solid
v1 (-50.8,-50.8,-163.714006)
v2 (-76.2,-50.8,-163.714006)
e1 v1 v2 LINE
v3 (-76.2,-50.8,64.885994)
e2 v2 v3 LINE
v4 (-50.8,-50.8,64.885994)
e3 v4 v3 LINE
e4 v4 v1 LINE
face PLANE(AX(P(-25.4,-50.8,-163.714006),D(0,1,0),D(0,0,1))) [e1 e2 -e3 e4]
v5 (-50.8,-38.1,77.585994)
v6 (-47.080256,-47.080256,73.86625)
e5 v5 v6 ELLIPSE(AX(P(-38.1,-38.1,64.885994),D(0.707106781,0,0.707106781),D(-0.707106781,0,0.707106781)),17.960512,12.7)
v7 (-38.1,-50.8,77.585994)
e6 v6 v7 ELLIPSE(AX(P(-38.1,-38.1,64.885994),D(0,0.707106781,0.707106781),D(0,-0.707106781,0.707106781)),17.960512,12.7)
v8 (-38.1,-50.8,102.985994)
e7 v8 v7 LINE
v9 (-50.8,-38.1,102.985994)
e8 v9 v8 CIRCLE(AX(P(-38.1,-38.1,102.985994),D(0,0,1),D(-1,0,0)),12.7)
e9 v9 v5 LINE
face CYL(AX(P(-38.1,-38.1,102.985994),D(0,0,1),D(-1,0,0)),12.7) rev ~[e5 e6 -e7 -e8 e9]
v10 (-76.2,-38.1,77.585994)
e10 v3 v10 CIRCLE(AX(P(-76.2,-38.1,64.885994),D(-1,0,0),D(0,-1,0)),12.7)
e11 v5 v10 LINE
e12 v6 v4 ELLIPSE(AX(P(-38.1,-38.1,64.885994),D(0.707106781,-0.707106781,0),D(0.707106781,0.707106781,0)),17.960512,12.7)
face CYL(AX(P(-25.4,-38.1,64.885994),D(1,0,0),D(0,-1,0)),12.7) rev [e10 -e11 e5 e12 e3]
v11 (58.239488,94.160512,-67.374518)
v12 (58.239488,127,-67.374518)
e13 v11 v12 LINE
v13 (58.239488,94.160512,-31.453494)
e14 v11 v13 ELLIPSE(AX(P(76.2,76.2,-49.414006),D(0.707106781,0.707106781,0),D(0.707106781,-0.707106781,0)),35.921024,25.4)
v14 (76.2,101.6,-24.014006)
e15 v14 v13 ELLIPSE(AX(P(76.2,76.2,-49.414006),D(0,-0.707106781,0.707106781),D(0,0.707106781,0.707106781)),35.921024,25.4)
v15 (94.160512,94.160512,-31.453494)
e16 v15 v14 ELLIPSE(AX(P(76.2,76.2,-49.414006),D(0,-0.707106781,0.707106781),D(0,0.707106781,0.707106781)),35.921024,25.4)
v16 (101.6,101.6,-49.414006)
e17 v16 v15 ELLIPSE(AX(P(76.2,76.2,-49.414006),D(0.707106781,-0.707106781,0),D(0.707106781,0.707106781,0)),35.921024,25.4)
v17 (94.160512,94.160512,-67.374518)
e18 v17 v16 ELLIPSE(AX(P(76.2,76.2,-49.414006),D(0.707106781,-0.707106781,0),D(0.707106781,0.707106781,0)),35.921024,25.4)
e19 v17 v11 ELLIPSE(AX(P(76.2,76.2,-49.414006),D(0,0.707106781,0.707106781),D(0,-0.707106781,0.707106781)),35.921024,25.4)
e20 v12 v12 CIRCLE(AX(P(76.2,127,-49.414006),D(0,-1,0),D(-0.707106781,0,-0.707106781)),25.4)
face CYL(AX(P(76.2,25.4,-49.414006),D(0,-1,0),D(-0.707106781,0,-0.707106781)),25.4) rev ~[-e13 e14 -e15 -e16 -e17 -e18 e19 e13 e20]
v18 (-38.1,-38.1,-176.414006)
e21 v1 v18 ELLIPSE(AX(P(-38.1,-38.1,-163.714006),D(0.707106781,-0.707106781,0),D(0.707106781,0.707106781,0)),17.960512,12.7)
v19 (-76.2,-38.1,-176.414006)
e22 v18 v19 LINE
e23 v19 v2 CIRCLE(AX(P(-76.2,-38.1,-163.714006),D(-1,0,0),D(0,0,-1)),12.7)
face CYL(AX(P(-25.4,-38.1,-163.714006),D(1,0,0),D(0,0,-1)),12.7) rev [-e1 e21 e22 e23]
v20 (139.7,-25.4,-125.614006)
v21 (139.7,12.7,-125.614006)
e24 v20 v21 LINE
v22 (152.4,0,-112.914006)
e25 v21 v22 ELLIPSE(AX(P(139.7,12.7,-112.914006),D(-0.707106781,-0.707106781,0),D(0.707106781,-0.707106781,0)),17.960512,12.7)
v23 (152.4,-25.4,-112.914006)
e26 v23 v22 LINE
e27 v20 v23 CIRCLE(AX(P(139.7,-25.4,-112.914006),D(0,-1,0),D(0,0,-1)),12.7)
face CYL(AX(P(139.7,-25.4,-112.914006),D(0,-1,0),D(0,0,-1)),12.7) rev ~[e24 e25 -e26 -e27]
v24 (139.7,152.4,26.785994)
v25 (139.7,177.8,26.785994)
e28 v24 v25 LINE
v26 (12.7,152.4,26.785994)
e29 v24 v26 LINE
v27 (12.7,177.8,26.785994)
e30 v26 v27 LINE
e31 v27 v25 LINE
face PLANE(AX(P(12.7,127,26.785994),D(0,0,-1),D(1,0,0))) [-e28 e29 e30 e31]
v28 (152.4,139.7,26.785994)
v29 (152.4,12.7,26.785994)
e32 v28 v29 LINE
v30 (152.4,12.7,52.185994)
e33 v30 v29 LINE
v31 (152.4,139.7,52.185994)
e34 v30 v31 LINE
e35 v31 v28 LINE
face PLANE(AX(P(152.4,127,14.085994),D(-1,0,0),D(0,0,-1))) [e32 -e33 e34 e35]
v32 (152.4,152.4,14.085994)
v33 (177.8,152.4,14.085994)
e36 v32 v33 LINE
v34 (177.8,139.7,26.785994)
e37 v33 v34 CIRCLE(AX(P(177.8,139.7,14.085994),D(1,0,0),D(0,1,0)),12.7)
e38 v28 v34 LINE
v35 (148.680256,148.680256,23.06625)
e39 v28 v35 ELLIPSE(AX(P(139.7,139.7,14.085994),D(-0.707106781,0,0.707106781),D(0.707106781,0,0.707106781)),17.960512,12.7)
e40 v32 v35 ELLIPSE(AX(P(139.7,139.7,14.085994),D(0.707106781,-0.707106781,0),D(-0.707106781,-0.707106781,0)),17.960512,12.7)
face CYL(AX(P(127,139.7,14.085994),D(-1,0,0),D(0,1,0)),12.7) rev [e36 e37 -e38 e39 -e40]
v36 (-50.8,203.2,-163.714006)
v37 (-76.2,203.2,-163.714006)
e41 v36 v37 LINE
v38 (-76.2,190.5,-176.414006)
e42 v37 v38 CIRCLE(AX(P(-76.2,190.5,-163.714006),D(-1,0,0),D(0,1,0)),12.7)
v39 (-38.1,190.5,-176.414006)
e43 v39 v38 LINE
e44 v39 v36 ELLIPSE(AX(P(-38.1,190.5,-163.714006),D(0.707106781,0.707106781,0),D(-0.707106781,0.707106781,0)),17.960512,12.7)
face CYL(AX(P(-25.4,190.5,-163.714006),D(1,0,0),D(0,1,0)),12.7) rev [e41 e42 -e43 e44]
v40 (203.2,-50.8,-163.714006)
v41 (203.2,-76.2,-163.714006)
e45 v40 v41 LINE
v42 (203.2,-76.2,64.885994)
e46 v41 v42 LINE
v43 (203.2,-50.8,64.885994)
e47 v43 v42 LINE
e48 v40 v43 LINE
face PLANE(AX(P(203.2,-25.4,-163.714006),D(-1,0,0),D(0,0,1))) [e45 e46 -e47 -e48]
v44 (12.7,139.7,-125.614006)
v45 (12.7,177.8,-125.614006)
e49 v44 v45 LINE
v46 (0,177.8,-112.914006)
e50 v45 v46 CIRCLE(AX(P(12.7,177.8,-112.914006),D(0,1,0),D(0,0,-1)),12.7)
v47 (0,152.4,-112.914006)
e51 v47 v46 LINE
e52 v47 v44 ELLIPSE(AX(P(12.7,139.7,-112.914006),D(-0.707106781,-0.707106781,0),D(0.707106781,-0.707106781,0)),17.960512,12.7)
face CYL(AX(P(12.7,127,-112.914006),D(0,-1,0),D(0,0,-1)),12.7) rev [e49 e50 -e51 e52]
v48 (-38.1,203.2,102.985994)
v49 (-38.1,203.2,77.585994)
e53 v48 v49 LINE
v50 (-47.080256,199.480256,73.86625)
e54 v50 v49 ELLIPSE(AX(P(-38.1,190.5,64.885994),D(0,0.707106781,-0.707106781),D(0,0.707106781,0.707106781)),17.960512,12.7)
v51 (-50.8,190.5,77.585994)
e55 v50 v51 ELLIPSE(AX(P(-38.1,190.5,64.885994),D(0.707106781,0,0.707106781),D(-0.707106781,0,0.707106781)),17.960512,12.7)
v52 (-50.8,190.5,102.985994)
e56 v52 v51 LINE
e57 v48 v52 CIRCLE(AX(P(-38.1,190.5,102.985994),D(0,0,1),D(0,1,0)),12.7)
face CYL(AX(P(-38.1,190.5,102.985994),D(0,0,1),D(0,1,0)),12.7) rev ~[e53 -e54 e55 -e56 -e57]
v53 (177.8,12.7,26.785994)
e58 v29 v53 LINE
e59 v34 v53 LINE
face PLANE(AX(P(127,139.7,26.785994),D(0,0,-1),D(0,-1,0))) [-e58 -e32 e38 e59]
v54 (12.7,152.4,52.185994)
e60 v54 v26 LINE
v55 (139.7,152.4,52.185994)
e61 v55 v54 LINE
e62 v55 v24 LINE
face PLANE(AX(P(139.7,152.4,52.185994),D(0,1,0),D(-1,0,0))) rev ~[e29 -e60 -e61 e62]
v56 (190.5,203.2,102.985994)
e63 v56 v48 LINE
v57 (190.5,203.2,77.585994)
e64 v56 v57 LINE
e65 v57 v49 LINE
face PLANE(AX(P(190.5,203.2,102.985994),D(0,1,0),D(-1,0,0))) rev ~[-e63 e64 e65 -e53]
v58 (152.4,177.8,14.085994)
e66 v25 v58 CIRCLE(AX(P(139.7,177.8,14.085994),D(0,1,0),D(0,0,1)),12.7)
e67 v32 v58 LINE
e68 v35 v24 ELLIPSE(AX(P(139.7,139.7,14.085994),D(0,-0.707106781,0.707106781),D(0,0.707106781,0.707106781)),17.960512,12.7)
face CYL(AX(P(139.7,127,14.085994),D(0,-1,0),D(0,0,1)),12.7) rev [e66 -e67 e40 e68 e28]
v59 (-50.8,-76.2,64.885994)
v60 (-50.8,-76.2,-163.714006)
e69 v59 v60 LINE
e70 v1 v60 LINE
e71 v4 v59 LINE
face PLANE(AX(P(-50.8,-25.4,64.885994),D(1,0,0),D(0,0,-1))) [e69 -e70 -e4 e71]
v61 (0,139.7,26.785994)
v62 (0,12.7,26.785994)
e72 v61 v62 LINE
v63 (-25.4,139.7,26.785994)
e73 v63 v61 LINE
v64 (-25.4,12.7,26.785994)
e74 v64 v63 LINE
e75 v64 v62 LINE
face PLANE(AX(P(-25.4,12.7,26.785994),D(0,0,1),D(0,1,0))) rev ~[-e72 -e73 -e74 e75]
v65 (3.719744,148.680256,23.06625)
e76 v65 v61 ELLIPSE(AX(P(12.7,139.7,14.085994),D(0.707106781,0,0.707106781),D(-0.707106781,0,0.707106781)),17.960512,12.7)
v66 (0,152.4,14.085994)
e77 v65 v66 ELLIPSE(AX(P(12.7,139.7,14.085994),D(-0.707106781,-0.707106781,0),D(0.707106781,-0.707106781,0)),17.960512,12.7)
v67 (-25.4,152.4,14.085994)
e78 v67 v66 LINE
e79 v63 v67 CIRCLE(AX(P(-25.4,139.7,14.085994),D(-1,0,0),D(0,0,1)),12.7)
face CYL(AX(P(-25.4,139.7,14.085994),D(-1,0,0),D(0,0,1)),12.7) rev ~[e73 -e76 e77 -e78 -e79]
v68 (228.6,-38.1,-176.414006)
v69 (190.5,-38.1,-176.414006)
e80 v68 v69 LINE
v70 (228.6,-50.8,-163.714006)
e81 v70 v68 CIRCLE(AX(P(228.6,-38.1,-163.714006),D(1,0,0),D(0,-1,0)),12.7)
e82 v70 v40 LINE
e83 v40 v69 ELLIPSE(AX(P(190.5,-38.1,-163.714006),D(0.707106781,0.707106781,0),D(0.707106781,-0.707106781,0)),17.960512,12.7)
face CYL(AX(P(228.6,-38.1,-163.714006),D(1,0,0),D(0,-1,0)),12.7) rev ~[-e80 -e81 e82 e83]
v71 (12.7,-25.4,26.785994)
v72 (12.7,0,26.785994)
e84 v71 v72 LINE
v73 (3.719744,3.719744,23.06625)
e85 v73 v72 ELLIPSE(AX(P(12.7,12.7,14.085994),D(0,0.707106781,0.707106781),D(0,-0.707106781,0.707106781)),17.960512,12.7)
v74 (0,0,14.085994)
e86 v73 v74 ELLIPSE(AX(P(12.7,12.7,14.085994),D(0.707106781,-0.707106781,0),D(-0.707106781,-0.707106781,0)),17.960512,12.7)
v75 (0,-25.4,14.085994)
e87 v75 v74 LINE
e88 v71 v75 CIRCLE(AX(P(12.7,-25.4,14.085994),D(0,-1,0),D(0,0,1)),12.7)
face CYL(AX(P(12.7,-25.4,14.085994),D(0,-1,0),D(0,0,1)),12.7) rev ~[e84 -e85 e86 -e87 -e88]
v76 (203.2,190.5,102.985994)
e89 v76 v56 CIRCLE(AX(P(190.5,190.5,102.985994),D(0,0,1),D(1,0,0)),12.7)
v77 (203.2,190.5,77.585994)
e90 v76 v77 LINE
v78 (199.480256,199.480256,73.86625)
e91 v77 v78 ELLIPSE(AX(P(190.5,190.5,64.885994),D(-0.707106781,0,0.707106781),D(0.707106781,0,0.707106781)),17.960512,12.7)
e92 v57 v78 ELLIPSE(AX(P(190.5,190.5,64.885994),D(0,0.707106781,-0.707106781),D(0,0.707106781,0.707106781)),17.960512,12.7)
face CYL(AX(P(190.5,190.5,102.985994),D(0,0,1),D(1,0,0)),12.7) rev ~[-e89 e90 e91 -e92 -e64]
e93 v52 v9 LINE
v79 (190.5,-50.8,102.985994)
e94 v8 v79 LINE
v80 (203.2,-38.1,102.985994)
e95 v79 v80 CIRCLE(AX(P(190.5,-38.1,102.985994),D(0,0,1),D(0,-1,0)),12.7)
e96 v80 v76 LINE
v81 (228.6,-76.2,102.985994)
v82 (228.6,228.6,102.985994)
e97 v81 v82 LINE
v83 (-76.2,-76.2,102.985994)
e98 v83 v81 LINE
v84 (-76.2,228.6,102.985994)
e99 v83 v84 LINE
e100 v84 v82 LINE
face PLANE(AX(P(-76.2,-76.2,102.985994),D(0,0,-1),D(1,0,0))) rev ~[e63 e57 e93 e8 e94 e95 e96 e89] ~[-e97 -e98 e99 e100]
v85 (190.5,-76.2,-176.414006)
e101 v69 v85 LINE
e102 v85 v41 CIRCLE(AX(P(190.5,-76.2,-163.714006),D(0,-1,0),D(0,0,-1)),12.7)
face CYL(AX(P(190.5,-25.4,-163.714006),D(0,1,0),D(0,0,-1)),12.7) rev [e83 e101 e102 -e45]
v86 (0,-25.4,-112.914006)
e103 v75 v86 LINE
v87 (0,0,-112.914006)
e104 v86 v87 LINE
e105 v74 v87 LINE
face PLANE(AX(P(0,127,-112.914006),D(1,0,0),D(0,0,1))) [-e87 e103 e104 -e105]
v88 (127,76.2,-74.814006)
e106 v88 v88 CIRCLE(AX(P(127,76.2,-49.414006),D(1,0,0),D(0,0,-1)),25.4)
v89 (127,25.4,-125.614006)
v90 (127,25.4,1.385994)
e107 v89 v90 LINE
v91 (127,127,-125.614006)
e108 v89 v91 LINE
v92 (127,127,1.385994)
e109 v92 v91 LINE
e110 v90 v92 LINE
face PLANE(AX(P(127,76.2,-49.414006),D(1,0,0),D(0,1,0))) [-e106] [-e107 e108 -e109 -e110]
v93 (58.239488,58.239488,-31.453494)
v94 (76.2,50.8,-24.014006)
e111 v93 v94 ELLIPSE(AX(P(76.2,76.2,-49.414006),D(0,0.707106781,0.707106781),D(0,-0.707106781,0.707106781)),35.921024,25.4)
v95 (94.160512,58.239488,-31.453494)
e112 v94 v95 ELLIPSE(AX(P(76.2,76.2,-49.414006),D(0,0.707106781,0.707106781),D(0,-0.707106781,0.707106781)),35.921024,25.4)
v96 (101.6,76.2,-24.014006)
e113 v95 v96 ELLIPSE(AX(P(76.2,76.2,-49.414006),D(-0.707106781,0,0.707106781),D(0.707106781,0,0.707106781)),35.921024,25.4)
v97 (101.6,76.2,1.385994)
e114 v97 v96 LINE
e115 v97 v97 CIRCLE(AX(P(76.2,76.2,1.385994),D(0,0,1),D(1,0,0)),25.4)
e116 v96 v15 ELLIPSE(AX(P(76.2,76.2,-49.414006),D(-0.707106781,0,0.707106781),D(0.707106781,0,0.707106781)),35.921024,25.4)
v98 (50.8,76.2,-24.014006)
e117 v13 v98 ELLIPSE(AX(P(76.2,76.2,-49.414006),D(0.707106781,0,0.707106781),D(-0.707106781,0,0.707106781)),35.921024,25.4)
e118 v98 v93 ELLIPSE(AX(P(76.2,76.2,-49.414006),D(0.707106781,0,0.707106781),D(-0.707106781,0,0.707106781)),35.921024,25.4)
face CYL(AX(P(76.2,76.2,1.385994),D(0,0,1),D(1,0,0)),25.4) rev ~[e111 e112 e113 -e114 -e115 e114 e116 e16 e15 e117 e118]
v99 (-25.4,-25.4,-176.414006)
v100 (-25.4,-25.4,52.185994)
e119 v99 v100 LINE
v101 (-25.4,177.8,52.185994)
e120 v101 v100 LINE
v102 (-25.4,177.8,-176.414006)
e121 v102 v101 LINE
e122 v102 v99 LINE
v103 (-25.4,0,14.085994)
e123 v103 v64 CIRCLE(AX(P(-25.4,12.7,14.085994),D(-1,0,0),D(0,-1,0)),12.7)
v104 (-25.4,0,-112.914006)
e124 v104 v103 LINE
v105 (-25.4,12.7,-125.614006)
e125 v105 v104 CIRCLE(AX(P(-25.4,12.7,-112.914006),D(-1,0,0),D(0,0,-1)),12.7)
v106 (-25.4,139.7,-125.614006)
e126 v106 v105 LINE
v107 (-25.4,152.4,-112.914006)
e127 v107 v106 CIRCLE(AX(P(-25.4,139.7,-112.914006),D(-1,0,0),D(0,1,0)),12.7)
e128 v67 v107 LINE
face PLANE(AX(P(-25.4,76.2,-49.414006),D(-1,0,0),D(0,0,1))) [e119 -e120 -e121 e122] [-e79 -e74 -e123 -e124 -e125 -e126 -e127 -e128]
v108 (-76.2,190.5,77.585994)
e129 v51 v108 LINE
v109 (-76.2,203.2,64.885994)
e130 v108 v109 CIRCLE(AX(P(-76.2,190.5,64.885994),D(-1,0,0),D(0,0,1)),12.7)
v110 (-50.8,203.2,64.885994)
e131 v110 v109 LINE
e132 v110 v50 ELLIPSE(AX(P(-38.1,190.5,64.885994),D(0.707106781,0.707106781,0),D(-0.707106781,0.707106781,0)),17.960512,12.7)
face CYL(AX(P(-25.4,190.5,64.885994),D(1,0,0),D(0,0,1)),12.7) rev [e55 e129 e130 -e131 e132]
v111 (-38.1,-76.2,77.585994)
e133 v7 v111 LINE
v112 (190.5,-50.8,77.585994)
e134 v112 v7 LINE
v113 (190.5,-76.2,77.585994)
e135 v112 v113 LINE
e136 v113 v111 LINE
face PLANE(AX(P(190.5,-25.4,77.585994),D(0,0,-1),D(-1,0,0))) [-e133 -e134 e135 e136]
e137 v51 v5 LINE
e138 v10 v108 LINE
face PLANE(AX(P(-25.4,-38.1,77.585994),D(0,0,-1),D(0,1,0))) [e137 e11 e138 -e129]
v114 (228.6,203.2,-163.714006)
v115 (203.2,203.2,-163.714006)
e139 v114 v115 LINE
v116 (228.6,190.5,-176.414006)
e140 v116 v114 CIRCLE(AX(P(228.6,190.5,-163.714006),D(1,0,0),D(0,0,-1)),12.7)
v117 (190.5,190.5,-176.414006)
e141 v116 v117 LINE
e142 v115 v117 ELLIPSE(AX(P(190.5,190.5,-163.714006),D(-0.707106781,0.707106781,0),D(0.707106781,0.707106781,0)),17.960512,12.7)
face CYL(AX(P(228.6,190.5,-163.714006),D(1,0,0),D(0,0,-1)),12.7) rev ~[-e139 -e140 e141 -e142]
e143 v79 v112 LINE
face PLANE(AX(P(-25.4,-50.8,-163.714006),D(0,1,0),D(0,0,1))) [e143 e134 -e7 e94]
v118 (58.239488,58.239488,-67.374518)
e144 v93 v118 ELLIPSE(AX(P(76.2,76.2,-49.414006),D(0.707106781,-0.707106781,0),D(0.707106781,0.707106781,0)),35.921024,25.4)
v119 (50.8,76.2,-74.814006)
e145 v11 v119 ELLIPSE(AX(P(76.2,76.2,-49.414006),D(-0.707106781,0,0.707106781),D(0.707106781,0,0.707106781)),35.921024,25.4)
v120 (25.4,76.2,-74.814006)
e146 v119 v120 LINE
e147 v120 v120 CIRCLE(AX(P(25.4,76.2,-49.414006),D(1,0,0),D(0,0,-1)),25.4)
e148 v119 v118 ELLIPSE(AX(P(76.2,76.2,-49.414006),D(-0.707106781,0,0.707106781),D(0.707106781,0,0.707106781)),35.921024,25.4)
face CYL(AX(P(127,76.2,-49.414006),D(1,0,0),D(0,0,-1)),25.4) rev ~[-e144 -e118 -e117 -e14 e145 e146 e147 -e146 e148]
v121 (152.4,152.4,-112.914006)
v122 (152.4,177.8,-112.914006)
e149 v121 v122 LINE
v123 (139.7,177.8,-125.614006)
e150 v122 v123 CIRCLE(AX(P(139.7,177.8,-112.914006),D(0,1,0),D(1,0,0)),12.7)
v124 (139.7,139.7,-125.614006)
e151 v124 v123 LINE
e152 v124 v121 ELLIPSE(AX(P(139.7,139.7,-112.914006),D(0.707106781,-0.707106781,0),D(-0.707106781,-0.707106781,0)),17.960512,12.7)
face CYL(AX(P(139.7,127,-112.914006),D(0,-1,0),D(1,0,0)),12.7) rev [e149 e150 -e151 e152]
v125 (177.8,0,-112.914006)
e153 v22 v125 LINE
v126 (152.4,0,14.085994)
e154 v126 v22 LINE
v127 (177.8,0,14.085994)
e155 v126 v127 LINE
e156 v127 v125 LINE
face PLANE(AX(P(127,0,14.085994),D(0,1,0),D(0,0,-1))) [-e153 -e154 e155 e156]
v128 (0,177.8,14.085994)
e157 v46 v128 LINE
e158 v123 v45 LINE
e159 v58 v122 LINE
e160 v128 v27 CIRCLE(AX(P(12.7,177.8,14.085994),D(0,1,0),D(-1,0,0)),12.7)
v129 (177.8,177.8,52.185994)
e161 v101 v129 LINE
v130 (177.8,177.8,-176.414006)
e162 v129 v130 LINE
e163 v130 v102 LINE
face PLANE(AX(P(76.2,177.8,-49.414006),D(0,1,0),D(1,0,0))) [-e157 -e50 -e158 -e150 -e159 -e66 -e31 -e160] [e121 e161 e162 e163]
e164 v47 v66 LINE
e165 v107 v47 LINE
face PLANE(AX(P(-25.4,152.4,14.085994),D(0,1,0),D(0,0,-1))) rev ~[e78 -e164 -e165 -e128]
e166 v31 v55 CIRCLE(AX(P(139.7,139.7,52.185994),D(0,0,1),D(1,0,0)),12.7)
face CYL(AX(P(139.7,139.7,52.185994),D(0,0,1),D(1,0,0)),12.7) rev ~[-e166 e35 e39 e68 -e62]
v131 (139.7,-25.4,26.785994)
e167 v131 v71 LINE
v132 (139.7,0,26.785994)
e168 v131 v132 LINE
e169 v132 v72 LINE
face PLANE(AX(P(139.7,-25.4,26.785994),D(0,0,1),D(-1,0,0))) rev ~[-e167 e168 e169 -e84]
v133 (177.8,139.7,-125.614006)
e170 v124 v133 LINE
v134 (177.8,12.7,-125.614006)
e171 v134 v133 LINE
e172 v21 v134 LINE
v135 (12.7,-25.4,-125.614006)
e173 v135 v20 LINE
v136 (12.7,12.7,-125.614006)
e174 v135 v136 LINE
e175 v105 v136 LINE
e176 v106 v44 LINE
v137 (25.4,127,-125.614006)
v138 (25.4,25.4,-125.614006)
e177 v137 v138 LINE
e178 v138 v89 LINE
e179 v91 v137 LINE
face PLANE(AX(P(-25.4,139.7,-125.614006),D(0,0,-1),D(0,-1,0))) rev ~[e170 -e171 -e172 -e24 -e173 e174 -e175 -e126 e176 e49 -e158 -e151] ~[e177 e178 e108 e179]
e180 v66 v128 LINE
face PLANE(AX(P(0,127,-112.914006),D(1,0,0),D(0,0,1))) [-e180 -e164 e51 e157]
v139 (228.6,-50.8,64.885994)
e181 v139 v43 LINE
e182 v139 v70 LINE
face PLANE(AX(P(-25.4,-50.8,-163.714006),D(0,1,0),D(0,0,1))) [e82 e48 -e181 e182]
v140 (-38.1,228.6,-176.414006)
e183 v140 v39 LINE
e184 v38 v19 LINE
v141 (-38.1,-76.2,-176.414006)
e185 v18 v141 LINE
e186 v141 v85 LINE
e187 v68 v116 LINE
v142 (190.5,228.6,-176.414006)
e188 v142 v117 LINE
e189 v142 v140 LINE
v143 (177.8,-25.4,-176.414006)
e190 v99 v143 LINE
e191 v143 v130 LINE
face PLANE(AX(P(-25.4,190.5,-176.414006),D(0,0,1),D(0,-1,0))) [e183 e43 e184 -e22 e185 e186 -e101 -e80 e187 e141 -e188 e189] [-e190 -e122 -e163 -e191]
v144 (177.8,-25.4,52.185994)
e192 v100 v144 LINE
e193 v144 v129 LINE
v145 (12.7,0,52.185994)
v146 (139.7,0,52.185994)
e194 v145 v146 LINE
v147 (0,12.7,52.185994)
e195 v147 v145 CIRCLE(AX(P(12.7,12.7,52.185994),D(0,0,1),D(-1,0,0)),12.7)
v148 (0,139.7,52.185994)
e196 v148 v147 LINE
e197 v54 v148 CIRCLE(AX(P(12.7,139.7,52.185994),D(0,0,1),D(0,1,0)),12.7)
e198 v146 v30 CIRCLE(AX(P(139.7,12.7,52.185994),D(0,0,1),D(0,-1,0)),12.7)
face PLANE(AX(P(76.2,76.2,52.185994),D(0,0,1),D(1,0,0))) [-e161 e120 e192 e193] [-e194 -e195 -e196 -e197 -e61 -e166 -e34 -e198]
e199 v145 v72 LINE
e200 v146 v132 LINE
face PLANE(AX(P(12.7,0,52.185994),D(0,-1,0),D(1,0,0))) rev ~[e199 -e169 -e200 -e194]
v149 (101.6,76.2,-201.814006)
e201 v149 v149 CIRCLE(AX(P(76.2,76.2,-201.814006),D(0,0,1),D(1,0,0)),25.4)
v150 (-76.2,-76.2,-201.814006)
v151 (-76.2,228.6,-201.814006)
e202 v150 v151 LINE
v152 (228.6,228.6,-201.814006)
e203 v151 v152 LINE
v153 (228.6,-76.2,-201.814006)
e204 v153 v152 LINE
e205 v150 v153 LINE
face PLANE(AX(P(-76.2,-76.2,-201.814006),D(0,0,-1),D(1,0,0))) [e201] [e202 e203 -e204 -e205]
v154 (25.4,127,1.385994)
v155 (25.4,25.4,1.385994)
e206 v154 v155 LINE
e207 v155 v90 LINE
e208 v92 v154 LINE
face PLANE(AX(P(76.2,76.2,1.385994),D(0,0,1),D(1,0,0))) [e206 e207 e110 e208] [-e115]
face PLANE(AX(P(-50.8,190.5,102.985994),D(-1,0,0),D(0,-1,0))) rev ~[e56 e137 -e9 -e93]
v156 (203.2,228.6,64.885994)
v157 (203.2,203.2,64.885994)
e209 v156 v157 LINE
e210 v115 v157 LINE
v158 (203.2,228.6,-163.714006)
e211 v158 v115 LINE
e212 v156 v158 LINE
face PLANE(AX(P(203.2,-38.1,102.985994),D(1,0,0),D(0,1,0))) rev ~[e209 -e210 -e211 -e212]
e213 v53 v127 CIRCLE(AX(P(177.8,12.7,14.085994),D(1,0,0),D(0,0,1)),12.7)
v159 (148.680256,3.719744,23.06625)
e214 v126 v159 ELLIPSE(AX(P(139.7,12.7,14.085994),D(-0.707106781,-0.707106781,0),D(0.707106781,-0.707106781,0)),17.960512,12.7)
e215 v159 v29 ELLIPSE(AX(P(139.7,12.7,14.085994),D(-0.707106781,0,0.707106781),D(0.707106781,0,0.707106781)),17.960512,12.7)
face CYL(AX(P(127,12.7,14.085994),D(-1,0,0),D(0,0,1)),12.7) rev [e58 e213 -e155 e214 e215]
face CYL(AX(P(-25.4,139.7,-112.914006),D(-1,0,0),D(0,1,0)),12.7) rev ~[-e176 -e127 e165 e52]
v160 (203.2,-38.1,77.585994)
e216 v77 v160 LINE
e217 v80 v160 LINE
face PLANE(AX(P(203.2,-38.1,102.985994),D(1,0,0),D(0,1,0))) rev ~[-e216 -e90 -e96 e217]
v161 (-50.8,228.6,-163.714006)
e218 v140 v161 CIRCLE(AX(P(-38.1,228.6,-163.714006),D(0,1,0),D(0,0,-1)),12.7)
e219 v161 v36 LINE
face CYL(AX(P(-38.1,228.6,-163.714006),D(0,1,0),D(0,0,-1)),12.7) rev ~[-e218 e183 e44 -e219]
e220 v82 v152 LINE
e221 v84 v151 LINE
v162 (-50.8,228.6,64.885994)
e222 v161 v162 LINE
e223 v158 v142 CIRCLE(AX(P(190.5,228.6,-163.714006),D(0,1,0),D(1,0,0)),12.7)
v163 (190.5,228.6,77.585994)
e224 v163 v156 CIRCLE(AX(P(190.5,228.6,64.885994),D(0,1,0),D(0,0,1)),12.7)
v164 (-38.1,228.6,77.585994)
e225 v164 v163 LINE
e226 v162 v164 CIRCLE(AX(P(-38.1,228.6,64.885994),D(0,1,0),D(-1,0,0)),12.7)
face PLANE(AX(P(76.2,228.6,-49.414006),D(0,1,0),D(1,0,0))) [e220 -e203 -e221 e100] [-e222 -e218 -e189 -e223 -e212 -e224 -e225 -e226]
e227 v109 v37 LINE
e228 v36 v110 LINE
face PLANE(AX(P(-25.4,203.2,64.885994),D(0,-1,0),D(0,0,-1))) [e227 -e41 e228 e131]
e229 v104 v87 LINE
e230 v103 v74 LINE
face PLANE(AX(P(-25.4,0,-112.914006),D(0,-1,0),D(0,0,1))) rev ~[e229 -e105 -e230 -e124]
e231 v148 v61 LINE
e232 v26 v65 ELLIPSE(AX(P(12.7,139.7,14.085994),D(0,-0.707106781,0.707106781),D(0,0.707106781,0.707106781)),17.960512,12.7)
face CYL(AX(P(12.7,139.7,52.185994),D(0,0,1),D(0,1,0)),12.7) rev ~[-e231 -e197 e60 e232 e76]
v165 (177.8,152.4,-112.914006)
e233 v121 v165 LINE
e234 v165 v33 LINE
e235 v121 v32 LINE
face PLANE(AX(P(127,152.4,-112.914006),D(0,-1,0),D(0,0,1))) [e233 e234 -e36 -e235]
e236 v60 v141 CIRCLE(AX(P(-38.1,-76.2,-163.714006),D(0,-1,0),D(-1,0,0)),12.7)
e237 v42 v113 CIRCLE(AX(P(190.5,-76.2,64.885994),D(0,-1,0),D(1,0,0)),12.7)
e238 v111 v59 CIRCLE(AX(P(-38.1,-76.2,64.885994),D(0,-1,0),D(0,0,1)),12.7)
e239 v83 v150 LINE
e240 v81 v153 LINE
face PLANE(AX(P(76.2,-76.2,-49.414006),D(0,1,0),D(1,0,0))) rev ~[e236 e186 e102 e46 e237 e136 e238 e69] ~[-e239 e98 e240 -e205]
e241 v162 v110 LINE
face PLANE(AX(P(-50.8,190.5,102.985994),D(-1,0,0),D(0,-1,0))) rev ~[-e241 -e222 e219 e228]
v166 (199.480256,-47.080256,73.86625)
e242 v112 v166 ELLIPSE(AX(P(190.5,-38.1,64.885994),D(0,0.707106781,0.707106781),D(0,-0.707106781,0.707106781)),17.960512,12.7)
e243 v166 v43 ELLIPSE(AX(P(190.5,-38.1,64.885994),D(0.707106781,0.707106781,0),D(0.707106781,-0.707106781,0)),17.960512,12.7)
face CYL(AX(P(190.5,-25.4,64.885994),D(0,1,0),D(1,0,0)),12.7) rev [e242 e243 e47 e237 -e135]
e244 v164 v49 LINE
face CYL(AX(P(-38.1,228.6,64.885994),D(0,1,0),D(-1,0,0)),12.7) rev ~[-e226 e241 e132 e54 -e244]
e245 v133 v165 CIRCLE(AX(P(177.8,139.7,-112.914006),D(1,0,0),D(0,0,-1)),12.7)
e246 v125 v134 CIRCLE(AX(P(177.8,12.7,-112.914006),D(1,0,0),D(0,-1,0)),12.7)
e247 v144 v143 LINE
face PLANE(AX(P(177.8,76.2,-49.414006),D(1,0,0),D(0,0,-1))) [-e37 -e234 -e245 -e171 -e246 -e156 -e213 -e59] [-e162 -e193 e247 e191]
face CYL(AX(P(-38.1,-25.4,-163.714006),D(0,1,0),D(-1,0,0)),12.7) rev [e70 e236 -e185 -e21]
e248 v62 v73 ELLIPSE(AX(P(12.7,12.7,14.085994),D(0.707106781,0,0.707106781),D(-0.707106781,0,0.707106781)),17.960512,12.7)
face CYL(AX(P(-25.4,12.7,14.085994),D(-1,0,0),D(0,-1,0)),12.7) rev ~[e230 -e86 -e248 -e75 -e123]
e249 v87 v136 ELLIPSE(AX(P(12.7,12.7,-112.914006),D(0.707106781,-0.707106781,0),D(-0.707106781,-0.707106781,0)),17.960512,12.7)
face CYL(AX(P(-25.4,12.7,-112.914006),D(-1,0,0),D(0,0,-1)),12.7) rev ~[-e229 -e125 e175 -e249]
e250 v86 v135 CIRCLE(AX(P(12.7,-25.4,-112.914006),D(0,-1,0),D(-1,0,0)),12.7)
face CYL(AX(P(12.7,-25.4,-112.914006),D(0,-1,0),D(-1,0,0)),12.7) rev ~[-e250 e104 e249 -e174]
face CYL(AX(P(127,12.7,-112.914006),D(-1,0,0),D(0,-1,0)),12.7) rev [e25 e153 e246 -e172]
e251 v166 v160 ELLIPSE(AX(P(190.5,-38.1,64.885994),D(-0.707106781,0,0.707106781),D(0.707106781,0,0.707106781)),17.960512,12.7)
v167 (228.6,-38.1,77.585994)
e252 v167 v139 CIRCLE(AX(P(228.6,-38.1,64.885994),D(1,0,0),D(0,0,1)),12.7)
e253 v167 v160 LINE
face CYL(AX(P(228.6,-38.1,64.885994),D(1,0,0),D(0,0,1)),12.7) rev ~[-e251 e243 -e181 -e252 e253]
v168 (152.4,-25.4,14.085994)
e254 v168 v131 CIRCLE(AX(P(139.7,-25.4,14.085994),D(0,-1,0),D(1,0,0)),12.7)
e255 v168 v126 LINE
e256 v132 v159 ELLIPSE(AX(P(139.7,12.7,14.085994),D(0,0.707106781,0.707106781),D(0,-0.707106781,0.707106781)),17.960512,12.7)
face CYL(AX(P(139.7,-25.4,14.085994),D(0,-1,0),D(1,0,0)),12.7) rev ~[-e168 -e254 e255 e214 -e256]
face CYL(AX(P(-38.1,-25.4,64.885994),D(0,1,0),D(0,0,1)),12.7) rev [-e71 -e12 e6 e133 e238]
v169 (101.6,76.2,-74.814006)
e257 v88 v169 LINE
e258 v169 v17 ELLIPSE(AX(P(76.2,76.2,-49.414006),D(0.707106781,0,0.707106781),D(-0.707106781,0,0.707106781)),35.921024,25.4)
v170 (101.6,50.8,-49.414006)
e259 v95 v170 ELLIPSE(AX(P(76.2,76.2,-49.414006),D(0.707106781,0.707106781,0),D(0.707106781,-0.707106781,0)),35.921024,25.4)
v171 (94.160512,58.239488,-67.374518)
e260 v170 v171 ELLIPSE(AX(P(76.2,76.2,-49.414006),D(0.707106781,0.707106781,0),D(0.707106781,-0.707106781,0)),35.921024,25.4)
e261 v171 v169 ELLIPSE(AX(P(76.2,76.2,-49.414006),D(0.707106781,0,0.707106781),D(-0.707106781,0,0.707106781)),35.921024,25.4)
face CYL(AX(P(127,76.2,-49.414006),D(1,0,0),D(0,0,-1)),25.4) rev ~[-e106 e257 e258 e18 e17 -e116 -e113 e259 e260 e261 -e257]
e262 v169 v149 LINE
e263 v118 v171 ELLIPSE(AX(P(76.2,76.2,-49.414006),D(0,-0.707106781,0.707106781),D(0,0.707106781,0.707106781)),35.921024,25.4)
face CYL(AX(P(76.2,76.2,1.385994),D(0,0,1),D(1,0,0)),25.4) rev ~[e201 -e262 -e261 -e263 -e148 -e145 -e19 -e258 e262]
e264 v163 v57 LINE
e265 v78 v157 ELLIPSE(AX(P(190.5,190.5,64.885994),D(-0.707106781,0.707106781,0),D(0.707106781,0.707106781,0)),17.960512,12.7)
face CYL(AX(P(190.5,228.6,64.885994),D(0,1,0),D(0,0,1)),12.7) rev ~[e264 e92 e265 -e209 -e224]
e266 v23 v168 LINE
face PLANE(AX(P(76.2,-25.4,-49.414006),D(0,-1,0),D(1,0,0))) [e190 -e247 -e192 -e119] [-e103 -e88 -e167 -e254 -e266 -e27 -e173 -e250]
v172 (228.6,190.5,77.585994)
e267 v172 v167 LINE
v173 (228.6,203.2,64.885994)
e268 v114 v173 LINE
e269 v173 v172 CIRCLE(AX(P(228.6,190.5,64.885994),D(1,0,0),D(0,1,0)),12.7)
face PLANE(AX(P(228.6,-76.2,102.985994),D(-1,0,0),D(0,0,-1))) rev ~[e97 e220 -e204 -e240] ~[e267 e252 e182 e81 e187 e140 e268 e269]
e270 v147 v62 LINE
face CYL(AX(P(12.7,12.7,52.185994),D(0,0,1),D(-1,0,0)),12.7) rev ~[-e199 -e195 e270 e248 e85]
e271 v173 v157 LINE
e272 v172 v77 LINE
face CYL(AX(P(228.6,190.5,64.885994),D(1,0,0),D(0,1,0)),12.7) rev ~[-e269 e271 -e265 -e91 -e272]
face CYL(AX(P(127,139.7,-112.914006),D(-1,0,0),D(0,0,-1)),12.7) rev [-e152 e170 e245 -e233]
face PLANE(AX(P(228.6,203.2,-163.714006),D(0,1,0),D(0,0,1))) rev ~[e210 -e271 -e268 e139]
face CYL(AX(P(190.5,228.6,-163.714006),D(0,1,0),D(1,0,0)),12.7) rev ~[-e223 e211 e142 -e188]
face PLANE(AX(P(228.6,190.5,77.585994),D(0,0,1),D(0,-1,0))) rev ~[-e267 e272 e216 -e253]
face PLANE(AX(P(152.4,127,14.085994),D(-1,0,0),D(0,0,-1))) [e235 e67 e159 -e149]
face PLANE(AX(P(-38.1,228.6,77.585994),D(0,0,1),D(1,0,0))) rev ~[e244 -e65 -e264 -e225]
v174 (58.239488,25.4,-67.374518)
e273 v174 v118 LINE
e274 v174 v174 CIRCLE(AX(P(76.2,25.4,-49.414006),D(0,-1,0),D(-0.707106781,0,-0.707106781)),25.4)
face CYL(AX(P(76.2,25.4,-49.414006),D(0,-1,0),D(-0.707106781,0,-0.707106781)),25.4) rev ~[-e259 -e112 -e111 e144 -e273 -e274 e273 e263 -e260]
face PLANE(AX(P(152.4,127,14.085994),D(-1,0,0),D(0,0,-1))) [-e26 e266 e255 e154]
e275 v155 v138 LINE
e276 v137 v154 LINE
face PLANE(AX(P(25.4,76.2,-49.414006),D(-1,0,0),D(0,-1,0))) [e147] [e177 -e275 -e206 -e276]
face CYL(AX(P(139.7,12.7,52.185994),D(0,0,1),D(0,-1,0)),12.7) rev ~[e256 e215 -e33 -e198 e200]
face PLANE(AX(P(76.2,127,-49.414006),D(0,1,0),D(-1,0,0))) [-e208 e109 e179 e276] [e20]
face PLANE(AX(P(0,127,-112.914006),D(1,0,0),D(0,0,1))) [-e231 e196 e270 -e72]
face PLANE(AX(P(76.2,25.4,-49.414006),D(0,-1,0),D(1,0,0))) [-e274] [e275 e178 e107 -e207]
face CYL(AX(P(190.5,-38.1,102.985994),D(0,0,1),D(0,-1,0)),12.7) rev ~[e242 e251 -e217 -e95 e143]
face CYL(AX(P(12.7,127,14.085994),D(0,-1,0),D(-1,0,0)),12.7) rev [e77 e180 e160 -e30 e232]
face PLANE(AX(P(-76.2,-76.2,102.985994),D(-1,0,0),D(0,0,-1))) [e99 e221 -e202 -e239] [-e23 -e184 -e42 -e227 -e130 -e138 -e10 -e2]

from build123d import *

# Parameters (mm, degrees)
SKETCH1_W           = 152.4
SKETCH1_H           = 152.4
EXTRUDE2_DEPTH      = 152.4
CUT_EXTRUDE14_DEPTH = 25.4
CUT_EXTRUDE18_DEPTH = 25.4
CUT_EXTRUDE19_DEPTH = 25.4
CUT_EXTRUDE21_START = -25.4
CUT_EXTRUDE21_DEPTH = 25.4
CUT_EXTRUDE22_START = -25.4
CUT_EXTRUDE22_DEPTH = 25.4
CUT_EXTRUDE24_DEPTH = 25.4
CUT_EXTRUDE27_DEPTH = 25.4
CUT_EXTRUDE28_START = -25.4
CUT_EXTRUDE28_DEPTH = 25.4
CUT_EXTRUDE29_DEPTH = 25.4
CUT_EXTRUDE30_START = -25.4
CUT_EXTRUDE30_DEPTH = 25.4
SKETCH30_R          = 12.7
CUT_EXTRUDE31_DEPTH = 239.273120599
SKETCH31_R          = 12.7
CUT_EXTRUDE32_DEPTH = 239.273120599
SKETCH32_R          = 12.7
CUT_EXTRUDE33_DEPTH = 239.273120599
SCALE1_SCALE        = 2


with BuildPart() as part:
    # Sketch1 → Extrude2 (new body)
    with BuildSketch(Plane(origin=(0, 0, 0), x_dir=(1, 0, 0), z_dir=(0, 1, 0))):
        with Locations((76.2, 76.2)):
            Rectangle(SKETCH1_W, SKETCH1_H)
    extrude(amount=EXTRUDE2_DEPTH)

    # Sketch13 → Cut-Extrude14 (cut)
    with BuildSketch(Plane(origin=(0, 152.4, 0), x_dir=(1, 0, 0), z_dir=(0, 1, 0))):
        with BuildLine():
            Line((19.05, 12.7), (133.35, 12.7))
            ThreePointArc((133.35, 12.7), (137.840128061, 14.559871939), (139.7, 19.05))
            Line((139.7, 19.05), (139.7, 133.35))
            ThreePointArc((139.7, 133.35), (137.840128061, 137.840128061), (133.35, 139.7))
            Line((133.35, 139.7), (19.05, 139.7))
            ThreePointArc((19.05, 139.7), (14.559871939, 137.840128061), (12.7, 133.35))
            Line((12.7, 133.35), (12.7, 19.05))
            ThreePointArc((12.7, 19.05), (14.559871939, 14.559871939), (19.05, 12.7))
        make_face()
    extrude(amount=-CUT_EXTRUDE14_DEPTH, mode=Mode.SUBTRACT)

    # Sketch17 → Cut-Extrude18 (cut)
    with BuildSketch(Plane.XY):
        with BuildLine():
            Line((19.05, 12.7), (133.35, 12.7))
            ThreePointArc((133.35, 12.7), (137.840128061, 14.559871939), (139.7, 19.05))
            Line((139.7, 19.05), (139.7, 133.35))
            ThreePointArc((139.7, 133.35), (137.840128061, 137.840128061), (133.35, 139.7))
            Line((133.35, 139.7), (19.05, 139.7))
            ThreePointArc((19.05, 139.7), (14.559871939, 137.840128061), (12.7, 133.35))
            Line((12.7, 133.35), (12.7, 19.05))
            ThreePointArc((12.7, 19.05), (14.559871939, 14.559871939), (19.05, 12.7))
        make_face()
    extrude(amount=-CUT_EXTRUDE18_DEPTH, mode=Mode.SUBTRACT)

    # Sketch18 → Cut-Extrude19 (cut)
    with BuildSketch(Plane(origin=(152.4, 0, 0), x_dir=(0, 0, -1), z_dir=(1, 0, 0))):
        with BuildLine():
            Line((19.05, 12.7), (133.35, 12.7))
            ThreePointArc((133.35, 12.7), (137.840128061, 14.559871939), (139.7, 19.05))
            Line((139.7, 19.05), (139.7, 133.35))
            ThreePointArc((139.7, 133.35), (137.840128061, 137.840128061), (133.35, 139.7))
            Line((133.35, 139.7), (19.05, 139.7))
            ThreePointArc((19.05, 139.7), (14.559871939, 137.840128061), (12.7, 133.35))
            Line((12.7, 133.35), (12.7, 19.05))
            ThreePointArc((12.7, 19.05), (14.559871939, 14.559871939), (19.05, 12.7))
        make_face()
    extrude(amount=-CUT_EXTRUDE19_DEPTH, mode=Mode.SUBTRACT)

    # Sketch20 → Cut-Extrude21 (cut)
    with BuildSketch(Plane.ZY.offset(CUT_EXTRUDE21_START)):
        with BuildLine():
            Line((-133.35, 12.7), (-19.05, 12.7))
            ThreePointArc((-19.05, 12.7), (-14.559871939, 14.559871939), (-12.7, 19.05))
            Line((-12.7, 19.05), (-12.7, 133.35))
            ThreePointArc((-12.7, 133.35), (-14.559871939, 137.840128061), (-19.05, 139.7))
            Line((-19.05, 139.7), (-133.35, 139.7))
            ThreePointArc((-133.35, 139.7), (-137.840128061, 137.840128061), (-139.7, 133.35))
            Line((-139.7, 133.35), (-139.7, 19.05))
            ThreePointArc((-139.7, 19.05), (-137.840128061, 14.559871939), (-133.35, 12.7))
        make_face()
    extrude(amount=CUT_EXTRUDE21_DEPTH, mode=Mode.SUBTRACT)

    # Sketch21 → Cut-Extrude22 (cut)
    with BuildSketch(Plane.XZ.offset(CUT_EXTRUDE22_START)):
        with BuildLine():
            Line((19.05, -139.7), (133.35, -139.7))
            ThreePointArc((133.35, -139.7), (137.840128061, -137.840128061), (139.7, -133.35))
            Line((139.7, -133.35), (139.7, -19.05))
            ThreePointArc((139.7, -19.05), (137.840128061, -14.559871939), (133.35, -12.7))
            Line((133.35, -12.7), (19.05, -12.7))
            ThreePointArc((19.05, -12.7), (14.559871939, -14.559871939), (12.7, -19.05))
            Line((12.7, -19.05), (12.7, -133.35))
            ThreePointArc((12.7, -133.35), (14.559871939, -137.840128061), (19.05, -139.7))
        make_face()
    extrude(amount=CUT_EXTRUDE22_DEPTH, mode=Mode.SUBTRACT)

    # Sketch23 → Cut-Extrude24 (cut)
    with BuildSketch(Plane.XY.offset(-25.4)):
        with BuildLine():
            Line((44.45, 38.1), (107.95, 38.1))
            ThreePointArc((107.95, 38.1), (112.440128061, 39.959871939), (114.3, 44.45))
            Line((114.3, 44.45), (114.3, 107.95))
            ThreePointArc((114.3, 107.95), (112.440128061, 112.440128061), (107.95, 114.3))
            Line((107.95, 114.3), (44.45, 114.3))
            ThreePointArc((44.45, 114.3), (39.959871939, 112.440128061), (38.1, 107.95))
            Line((38.1, 107.95), (38.1, 44.45))
            ThreePointArc((38.1, 44.45), (39.959871939, 39.959871939), (44.45, 38.1))
        make_face()
    extrude(amount=-CUT_EXTRUDE24_DEPTH, mode=Mode.SUBTRACT)

    # Sketch26 → Cut-Extrude27 (cut)
    with BuildSketch(Plane.XZ.offset(-25.4)):
        with BuildLine():
            Line((44.45, -114.3), (107.95, -114.3))
            ThreePointArc((107.95, -114.3), (112.440128061, -112.440128061), (114.3, -107.95))
            Line((114.3, -107.95), (114.3, -44.45))
            ThreePointArc((114.3, -44.45), (112.440128061, -39.959871939), (107.95, -38.1))
            Line((107.95, -38.1), (44.45, -38.1))
            ThreePointArc((44.45, -38.1), (39.959871939, -39.959871939), (38.1, -44.45))
            Line((38.1, -44.45), (38.1, -107.95))
            ThreePointArc((38.1, -107.95), (39.959871939, -112.440128061), (44.45, -114.3))
        make_face()
    extrude(amount=-CUT_EXTRUDE27_DEPTH, mode=Mode.SUBTRACT)

    # Sketch27 → Cut-Extrude28 (cut)
    with BuildSketch(Plane(origin=(0, 127, 0), x_dir=(-1, 0, 0), z_dir=(0, 1, 0)).offset(CUT_EXTRUDE28_START)):
        with BuildLine():
            Line((-107.95, -114.3), (-44.45, -114.3))
            ThreePointArc((-44.45, -114.3), (-39.959871939, -112.440128061), (-38.1, -107.95))
            Line((-38.1, -107.95), (-38.1, -44.45))
            ThreePointArc((-38.1, -44.45), (-39.959871939, -39.959871939), (-44.45, -38.1))
            Line((-44.45, -38.1), (-107.95, -38.1))
            ThreePointArc((-107.95, -38.1), (-112.440128061, -39.959871939), (-114.3, -44.45))
            Line((-114.3, -44.45), (-114.3, -107.95))
            ThreePointArc((-114.3, -107.95), (-112.440128061, -112.440128061), (-107.95, -114.3))
        make_face()
    extrude(amount=CUT_EXTRUDE28_DEPTH, mode=Mode.SUBTRACT)

    # Sketch28 → Cut-Extrude29 (cut)
    with BuildSketch(Plane(origin=(25.4, 0, 0), x_dir=(0, -1, 0), z_dir=(-1, 0, 0))):
        with BuildLine():
            Line((-107.95, -114.3), (-44.45, -114.3))
            ThreePointArc((-44.45, -114.3), (-39.959871939, -112.440128061), (-38.1, -107.95))
            Line((-38.1, -107.95), (-38.1, -44.45))
            ThreePointArc((-38.1, -44.45), (-39.959871939, -39.959871939), (-44.45, -38.1))
            Line((-44.45, -38.1), (-107.95, -38.1))
            ThreePointArc((-107.95, -38.1), (-112.440128061, -39.959871939), (-114.3, -44.45))
            Line((-114.3, -44.45), (-114.3, -107.95))
            ThreePointArc((-114.3, -107.95), (-112.440128061, -112.440128061), (-107.95, -114.3))
        make_face()
    extrude(amount=-CUT_EXTRUDE29_DEPTH, mode=Mode.SUBTRACT)

    # Sketch29 → Cut-Extrude30 (cut)
    with BuildSketch(Plane.YZ.offset(127).offset(CUT_EXTRUDE30_START)):
        with BuildLine():
            Line((44.45, -114.3), (107.95, -114.3))
            ThreePointArc((107.95, -114.3), (112.440128061, -112.440128061), (114.3, -107.95))
            Line((114.3, -107.95), (114.3, -44.45))
            ThreePointArc((114.3, -44.45), (112.440128061, -39.959871939), (107.95, -38.1))
            Line((107.95, -38.1), (44.45, -38.1))
            ThreePointArc((44.45, -38.1), (39.959871939, -39.959871939), (38.1, -44.45))
            Line((38.1, -44.45), (38.1, -107.95))
            ThreePointArc((38.1, -107.95), (39.959871939, -112.440128061), (44.45, -114.3))
        make_face()
    extrude(amount=CUT_EXTRUDE30_DEPTH, mode=Mode.SUBTRACT)

    # Sketch30 → Cut-Extrude31 (cut, through all)
    with BuildSketch(Plane.XY.offset(-50.8)):
        with Locations((76.2, 76.2)):
            Circle(SKETCH30_R)
    extrude(amount=-CUT_EXTRUDE31_DEPTH, mode=Mode.SUBTRACT)

    # Sketch31 → Cut-Extrude32 (cut, through all)
    with BuildSketch(Plane(origin=(101.6, 0, 0), x_dir=(0, 0, -1), z_dir=(1, 0, 0))):
        with Locations((76.2, 76.2)):
            Circle(SKETCH31_R)
    extrude(amount=-CUT_EXTRUDE32_DEPTH, mode=Mode.SUBTRACT)

    # Sketch32 → Cut-Extrude33 (cut, through all)
    with BuildSketch(Plane.XZ.offset(-50.8)):
        with Locations(Location((76.2, -76.2, 0), (0, 0, 225))):
            Circle(SKETCH32_R)
    extrude(amount=-CUT_EXTRUDE33_DEPTH, mode=Mode.SUBTRACT)


with BuildPart() as part_1:
    # Scale1: scaled about (76.199999991, 76.199999991, -102.985994001)
    add(part.part.scale(SCALE1_SCALE).moved(Location((-76.199999991, -76.199999991, 102.985994001))))


solid = part_1.part
